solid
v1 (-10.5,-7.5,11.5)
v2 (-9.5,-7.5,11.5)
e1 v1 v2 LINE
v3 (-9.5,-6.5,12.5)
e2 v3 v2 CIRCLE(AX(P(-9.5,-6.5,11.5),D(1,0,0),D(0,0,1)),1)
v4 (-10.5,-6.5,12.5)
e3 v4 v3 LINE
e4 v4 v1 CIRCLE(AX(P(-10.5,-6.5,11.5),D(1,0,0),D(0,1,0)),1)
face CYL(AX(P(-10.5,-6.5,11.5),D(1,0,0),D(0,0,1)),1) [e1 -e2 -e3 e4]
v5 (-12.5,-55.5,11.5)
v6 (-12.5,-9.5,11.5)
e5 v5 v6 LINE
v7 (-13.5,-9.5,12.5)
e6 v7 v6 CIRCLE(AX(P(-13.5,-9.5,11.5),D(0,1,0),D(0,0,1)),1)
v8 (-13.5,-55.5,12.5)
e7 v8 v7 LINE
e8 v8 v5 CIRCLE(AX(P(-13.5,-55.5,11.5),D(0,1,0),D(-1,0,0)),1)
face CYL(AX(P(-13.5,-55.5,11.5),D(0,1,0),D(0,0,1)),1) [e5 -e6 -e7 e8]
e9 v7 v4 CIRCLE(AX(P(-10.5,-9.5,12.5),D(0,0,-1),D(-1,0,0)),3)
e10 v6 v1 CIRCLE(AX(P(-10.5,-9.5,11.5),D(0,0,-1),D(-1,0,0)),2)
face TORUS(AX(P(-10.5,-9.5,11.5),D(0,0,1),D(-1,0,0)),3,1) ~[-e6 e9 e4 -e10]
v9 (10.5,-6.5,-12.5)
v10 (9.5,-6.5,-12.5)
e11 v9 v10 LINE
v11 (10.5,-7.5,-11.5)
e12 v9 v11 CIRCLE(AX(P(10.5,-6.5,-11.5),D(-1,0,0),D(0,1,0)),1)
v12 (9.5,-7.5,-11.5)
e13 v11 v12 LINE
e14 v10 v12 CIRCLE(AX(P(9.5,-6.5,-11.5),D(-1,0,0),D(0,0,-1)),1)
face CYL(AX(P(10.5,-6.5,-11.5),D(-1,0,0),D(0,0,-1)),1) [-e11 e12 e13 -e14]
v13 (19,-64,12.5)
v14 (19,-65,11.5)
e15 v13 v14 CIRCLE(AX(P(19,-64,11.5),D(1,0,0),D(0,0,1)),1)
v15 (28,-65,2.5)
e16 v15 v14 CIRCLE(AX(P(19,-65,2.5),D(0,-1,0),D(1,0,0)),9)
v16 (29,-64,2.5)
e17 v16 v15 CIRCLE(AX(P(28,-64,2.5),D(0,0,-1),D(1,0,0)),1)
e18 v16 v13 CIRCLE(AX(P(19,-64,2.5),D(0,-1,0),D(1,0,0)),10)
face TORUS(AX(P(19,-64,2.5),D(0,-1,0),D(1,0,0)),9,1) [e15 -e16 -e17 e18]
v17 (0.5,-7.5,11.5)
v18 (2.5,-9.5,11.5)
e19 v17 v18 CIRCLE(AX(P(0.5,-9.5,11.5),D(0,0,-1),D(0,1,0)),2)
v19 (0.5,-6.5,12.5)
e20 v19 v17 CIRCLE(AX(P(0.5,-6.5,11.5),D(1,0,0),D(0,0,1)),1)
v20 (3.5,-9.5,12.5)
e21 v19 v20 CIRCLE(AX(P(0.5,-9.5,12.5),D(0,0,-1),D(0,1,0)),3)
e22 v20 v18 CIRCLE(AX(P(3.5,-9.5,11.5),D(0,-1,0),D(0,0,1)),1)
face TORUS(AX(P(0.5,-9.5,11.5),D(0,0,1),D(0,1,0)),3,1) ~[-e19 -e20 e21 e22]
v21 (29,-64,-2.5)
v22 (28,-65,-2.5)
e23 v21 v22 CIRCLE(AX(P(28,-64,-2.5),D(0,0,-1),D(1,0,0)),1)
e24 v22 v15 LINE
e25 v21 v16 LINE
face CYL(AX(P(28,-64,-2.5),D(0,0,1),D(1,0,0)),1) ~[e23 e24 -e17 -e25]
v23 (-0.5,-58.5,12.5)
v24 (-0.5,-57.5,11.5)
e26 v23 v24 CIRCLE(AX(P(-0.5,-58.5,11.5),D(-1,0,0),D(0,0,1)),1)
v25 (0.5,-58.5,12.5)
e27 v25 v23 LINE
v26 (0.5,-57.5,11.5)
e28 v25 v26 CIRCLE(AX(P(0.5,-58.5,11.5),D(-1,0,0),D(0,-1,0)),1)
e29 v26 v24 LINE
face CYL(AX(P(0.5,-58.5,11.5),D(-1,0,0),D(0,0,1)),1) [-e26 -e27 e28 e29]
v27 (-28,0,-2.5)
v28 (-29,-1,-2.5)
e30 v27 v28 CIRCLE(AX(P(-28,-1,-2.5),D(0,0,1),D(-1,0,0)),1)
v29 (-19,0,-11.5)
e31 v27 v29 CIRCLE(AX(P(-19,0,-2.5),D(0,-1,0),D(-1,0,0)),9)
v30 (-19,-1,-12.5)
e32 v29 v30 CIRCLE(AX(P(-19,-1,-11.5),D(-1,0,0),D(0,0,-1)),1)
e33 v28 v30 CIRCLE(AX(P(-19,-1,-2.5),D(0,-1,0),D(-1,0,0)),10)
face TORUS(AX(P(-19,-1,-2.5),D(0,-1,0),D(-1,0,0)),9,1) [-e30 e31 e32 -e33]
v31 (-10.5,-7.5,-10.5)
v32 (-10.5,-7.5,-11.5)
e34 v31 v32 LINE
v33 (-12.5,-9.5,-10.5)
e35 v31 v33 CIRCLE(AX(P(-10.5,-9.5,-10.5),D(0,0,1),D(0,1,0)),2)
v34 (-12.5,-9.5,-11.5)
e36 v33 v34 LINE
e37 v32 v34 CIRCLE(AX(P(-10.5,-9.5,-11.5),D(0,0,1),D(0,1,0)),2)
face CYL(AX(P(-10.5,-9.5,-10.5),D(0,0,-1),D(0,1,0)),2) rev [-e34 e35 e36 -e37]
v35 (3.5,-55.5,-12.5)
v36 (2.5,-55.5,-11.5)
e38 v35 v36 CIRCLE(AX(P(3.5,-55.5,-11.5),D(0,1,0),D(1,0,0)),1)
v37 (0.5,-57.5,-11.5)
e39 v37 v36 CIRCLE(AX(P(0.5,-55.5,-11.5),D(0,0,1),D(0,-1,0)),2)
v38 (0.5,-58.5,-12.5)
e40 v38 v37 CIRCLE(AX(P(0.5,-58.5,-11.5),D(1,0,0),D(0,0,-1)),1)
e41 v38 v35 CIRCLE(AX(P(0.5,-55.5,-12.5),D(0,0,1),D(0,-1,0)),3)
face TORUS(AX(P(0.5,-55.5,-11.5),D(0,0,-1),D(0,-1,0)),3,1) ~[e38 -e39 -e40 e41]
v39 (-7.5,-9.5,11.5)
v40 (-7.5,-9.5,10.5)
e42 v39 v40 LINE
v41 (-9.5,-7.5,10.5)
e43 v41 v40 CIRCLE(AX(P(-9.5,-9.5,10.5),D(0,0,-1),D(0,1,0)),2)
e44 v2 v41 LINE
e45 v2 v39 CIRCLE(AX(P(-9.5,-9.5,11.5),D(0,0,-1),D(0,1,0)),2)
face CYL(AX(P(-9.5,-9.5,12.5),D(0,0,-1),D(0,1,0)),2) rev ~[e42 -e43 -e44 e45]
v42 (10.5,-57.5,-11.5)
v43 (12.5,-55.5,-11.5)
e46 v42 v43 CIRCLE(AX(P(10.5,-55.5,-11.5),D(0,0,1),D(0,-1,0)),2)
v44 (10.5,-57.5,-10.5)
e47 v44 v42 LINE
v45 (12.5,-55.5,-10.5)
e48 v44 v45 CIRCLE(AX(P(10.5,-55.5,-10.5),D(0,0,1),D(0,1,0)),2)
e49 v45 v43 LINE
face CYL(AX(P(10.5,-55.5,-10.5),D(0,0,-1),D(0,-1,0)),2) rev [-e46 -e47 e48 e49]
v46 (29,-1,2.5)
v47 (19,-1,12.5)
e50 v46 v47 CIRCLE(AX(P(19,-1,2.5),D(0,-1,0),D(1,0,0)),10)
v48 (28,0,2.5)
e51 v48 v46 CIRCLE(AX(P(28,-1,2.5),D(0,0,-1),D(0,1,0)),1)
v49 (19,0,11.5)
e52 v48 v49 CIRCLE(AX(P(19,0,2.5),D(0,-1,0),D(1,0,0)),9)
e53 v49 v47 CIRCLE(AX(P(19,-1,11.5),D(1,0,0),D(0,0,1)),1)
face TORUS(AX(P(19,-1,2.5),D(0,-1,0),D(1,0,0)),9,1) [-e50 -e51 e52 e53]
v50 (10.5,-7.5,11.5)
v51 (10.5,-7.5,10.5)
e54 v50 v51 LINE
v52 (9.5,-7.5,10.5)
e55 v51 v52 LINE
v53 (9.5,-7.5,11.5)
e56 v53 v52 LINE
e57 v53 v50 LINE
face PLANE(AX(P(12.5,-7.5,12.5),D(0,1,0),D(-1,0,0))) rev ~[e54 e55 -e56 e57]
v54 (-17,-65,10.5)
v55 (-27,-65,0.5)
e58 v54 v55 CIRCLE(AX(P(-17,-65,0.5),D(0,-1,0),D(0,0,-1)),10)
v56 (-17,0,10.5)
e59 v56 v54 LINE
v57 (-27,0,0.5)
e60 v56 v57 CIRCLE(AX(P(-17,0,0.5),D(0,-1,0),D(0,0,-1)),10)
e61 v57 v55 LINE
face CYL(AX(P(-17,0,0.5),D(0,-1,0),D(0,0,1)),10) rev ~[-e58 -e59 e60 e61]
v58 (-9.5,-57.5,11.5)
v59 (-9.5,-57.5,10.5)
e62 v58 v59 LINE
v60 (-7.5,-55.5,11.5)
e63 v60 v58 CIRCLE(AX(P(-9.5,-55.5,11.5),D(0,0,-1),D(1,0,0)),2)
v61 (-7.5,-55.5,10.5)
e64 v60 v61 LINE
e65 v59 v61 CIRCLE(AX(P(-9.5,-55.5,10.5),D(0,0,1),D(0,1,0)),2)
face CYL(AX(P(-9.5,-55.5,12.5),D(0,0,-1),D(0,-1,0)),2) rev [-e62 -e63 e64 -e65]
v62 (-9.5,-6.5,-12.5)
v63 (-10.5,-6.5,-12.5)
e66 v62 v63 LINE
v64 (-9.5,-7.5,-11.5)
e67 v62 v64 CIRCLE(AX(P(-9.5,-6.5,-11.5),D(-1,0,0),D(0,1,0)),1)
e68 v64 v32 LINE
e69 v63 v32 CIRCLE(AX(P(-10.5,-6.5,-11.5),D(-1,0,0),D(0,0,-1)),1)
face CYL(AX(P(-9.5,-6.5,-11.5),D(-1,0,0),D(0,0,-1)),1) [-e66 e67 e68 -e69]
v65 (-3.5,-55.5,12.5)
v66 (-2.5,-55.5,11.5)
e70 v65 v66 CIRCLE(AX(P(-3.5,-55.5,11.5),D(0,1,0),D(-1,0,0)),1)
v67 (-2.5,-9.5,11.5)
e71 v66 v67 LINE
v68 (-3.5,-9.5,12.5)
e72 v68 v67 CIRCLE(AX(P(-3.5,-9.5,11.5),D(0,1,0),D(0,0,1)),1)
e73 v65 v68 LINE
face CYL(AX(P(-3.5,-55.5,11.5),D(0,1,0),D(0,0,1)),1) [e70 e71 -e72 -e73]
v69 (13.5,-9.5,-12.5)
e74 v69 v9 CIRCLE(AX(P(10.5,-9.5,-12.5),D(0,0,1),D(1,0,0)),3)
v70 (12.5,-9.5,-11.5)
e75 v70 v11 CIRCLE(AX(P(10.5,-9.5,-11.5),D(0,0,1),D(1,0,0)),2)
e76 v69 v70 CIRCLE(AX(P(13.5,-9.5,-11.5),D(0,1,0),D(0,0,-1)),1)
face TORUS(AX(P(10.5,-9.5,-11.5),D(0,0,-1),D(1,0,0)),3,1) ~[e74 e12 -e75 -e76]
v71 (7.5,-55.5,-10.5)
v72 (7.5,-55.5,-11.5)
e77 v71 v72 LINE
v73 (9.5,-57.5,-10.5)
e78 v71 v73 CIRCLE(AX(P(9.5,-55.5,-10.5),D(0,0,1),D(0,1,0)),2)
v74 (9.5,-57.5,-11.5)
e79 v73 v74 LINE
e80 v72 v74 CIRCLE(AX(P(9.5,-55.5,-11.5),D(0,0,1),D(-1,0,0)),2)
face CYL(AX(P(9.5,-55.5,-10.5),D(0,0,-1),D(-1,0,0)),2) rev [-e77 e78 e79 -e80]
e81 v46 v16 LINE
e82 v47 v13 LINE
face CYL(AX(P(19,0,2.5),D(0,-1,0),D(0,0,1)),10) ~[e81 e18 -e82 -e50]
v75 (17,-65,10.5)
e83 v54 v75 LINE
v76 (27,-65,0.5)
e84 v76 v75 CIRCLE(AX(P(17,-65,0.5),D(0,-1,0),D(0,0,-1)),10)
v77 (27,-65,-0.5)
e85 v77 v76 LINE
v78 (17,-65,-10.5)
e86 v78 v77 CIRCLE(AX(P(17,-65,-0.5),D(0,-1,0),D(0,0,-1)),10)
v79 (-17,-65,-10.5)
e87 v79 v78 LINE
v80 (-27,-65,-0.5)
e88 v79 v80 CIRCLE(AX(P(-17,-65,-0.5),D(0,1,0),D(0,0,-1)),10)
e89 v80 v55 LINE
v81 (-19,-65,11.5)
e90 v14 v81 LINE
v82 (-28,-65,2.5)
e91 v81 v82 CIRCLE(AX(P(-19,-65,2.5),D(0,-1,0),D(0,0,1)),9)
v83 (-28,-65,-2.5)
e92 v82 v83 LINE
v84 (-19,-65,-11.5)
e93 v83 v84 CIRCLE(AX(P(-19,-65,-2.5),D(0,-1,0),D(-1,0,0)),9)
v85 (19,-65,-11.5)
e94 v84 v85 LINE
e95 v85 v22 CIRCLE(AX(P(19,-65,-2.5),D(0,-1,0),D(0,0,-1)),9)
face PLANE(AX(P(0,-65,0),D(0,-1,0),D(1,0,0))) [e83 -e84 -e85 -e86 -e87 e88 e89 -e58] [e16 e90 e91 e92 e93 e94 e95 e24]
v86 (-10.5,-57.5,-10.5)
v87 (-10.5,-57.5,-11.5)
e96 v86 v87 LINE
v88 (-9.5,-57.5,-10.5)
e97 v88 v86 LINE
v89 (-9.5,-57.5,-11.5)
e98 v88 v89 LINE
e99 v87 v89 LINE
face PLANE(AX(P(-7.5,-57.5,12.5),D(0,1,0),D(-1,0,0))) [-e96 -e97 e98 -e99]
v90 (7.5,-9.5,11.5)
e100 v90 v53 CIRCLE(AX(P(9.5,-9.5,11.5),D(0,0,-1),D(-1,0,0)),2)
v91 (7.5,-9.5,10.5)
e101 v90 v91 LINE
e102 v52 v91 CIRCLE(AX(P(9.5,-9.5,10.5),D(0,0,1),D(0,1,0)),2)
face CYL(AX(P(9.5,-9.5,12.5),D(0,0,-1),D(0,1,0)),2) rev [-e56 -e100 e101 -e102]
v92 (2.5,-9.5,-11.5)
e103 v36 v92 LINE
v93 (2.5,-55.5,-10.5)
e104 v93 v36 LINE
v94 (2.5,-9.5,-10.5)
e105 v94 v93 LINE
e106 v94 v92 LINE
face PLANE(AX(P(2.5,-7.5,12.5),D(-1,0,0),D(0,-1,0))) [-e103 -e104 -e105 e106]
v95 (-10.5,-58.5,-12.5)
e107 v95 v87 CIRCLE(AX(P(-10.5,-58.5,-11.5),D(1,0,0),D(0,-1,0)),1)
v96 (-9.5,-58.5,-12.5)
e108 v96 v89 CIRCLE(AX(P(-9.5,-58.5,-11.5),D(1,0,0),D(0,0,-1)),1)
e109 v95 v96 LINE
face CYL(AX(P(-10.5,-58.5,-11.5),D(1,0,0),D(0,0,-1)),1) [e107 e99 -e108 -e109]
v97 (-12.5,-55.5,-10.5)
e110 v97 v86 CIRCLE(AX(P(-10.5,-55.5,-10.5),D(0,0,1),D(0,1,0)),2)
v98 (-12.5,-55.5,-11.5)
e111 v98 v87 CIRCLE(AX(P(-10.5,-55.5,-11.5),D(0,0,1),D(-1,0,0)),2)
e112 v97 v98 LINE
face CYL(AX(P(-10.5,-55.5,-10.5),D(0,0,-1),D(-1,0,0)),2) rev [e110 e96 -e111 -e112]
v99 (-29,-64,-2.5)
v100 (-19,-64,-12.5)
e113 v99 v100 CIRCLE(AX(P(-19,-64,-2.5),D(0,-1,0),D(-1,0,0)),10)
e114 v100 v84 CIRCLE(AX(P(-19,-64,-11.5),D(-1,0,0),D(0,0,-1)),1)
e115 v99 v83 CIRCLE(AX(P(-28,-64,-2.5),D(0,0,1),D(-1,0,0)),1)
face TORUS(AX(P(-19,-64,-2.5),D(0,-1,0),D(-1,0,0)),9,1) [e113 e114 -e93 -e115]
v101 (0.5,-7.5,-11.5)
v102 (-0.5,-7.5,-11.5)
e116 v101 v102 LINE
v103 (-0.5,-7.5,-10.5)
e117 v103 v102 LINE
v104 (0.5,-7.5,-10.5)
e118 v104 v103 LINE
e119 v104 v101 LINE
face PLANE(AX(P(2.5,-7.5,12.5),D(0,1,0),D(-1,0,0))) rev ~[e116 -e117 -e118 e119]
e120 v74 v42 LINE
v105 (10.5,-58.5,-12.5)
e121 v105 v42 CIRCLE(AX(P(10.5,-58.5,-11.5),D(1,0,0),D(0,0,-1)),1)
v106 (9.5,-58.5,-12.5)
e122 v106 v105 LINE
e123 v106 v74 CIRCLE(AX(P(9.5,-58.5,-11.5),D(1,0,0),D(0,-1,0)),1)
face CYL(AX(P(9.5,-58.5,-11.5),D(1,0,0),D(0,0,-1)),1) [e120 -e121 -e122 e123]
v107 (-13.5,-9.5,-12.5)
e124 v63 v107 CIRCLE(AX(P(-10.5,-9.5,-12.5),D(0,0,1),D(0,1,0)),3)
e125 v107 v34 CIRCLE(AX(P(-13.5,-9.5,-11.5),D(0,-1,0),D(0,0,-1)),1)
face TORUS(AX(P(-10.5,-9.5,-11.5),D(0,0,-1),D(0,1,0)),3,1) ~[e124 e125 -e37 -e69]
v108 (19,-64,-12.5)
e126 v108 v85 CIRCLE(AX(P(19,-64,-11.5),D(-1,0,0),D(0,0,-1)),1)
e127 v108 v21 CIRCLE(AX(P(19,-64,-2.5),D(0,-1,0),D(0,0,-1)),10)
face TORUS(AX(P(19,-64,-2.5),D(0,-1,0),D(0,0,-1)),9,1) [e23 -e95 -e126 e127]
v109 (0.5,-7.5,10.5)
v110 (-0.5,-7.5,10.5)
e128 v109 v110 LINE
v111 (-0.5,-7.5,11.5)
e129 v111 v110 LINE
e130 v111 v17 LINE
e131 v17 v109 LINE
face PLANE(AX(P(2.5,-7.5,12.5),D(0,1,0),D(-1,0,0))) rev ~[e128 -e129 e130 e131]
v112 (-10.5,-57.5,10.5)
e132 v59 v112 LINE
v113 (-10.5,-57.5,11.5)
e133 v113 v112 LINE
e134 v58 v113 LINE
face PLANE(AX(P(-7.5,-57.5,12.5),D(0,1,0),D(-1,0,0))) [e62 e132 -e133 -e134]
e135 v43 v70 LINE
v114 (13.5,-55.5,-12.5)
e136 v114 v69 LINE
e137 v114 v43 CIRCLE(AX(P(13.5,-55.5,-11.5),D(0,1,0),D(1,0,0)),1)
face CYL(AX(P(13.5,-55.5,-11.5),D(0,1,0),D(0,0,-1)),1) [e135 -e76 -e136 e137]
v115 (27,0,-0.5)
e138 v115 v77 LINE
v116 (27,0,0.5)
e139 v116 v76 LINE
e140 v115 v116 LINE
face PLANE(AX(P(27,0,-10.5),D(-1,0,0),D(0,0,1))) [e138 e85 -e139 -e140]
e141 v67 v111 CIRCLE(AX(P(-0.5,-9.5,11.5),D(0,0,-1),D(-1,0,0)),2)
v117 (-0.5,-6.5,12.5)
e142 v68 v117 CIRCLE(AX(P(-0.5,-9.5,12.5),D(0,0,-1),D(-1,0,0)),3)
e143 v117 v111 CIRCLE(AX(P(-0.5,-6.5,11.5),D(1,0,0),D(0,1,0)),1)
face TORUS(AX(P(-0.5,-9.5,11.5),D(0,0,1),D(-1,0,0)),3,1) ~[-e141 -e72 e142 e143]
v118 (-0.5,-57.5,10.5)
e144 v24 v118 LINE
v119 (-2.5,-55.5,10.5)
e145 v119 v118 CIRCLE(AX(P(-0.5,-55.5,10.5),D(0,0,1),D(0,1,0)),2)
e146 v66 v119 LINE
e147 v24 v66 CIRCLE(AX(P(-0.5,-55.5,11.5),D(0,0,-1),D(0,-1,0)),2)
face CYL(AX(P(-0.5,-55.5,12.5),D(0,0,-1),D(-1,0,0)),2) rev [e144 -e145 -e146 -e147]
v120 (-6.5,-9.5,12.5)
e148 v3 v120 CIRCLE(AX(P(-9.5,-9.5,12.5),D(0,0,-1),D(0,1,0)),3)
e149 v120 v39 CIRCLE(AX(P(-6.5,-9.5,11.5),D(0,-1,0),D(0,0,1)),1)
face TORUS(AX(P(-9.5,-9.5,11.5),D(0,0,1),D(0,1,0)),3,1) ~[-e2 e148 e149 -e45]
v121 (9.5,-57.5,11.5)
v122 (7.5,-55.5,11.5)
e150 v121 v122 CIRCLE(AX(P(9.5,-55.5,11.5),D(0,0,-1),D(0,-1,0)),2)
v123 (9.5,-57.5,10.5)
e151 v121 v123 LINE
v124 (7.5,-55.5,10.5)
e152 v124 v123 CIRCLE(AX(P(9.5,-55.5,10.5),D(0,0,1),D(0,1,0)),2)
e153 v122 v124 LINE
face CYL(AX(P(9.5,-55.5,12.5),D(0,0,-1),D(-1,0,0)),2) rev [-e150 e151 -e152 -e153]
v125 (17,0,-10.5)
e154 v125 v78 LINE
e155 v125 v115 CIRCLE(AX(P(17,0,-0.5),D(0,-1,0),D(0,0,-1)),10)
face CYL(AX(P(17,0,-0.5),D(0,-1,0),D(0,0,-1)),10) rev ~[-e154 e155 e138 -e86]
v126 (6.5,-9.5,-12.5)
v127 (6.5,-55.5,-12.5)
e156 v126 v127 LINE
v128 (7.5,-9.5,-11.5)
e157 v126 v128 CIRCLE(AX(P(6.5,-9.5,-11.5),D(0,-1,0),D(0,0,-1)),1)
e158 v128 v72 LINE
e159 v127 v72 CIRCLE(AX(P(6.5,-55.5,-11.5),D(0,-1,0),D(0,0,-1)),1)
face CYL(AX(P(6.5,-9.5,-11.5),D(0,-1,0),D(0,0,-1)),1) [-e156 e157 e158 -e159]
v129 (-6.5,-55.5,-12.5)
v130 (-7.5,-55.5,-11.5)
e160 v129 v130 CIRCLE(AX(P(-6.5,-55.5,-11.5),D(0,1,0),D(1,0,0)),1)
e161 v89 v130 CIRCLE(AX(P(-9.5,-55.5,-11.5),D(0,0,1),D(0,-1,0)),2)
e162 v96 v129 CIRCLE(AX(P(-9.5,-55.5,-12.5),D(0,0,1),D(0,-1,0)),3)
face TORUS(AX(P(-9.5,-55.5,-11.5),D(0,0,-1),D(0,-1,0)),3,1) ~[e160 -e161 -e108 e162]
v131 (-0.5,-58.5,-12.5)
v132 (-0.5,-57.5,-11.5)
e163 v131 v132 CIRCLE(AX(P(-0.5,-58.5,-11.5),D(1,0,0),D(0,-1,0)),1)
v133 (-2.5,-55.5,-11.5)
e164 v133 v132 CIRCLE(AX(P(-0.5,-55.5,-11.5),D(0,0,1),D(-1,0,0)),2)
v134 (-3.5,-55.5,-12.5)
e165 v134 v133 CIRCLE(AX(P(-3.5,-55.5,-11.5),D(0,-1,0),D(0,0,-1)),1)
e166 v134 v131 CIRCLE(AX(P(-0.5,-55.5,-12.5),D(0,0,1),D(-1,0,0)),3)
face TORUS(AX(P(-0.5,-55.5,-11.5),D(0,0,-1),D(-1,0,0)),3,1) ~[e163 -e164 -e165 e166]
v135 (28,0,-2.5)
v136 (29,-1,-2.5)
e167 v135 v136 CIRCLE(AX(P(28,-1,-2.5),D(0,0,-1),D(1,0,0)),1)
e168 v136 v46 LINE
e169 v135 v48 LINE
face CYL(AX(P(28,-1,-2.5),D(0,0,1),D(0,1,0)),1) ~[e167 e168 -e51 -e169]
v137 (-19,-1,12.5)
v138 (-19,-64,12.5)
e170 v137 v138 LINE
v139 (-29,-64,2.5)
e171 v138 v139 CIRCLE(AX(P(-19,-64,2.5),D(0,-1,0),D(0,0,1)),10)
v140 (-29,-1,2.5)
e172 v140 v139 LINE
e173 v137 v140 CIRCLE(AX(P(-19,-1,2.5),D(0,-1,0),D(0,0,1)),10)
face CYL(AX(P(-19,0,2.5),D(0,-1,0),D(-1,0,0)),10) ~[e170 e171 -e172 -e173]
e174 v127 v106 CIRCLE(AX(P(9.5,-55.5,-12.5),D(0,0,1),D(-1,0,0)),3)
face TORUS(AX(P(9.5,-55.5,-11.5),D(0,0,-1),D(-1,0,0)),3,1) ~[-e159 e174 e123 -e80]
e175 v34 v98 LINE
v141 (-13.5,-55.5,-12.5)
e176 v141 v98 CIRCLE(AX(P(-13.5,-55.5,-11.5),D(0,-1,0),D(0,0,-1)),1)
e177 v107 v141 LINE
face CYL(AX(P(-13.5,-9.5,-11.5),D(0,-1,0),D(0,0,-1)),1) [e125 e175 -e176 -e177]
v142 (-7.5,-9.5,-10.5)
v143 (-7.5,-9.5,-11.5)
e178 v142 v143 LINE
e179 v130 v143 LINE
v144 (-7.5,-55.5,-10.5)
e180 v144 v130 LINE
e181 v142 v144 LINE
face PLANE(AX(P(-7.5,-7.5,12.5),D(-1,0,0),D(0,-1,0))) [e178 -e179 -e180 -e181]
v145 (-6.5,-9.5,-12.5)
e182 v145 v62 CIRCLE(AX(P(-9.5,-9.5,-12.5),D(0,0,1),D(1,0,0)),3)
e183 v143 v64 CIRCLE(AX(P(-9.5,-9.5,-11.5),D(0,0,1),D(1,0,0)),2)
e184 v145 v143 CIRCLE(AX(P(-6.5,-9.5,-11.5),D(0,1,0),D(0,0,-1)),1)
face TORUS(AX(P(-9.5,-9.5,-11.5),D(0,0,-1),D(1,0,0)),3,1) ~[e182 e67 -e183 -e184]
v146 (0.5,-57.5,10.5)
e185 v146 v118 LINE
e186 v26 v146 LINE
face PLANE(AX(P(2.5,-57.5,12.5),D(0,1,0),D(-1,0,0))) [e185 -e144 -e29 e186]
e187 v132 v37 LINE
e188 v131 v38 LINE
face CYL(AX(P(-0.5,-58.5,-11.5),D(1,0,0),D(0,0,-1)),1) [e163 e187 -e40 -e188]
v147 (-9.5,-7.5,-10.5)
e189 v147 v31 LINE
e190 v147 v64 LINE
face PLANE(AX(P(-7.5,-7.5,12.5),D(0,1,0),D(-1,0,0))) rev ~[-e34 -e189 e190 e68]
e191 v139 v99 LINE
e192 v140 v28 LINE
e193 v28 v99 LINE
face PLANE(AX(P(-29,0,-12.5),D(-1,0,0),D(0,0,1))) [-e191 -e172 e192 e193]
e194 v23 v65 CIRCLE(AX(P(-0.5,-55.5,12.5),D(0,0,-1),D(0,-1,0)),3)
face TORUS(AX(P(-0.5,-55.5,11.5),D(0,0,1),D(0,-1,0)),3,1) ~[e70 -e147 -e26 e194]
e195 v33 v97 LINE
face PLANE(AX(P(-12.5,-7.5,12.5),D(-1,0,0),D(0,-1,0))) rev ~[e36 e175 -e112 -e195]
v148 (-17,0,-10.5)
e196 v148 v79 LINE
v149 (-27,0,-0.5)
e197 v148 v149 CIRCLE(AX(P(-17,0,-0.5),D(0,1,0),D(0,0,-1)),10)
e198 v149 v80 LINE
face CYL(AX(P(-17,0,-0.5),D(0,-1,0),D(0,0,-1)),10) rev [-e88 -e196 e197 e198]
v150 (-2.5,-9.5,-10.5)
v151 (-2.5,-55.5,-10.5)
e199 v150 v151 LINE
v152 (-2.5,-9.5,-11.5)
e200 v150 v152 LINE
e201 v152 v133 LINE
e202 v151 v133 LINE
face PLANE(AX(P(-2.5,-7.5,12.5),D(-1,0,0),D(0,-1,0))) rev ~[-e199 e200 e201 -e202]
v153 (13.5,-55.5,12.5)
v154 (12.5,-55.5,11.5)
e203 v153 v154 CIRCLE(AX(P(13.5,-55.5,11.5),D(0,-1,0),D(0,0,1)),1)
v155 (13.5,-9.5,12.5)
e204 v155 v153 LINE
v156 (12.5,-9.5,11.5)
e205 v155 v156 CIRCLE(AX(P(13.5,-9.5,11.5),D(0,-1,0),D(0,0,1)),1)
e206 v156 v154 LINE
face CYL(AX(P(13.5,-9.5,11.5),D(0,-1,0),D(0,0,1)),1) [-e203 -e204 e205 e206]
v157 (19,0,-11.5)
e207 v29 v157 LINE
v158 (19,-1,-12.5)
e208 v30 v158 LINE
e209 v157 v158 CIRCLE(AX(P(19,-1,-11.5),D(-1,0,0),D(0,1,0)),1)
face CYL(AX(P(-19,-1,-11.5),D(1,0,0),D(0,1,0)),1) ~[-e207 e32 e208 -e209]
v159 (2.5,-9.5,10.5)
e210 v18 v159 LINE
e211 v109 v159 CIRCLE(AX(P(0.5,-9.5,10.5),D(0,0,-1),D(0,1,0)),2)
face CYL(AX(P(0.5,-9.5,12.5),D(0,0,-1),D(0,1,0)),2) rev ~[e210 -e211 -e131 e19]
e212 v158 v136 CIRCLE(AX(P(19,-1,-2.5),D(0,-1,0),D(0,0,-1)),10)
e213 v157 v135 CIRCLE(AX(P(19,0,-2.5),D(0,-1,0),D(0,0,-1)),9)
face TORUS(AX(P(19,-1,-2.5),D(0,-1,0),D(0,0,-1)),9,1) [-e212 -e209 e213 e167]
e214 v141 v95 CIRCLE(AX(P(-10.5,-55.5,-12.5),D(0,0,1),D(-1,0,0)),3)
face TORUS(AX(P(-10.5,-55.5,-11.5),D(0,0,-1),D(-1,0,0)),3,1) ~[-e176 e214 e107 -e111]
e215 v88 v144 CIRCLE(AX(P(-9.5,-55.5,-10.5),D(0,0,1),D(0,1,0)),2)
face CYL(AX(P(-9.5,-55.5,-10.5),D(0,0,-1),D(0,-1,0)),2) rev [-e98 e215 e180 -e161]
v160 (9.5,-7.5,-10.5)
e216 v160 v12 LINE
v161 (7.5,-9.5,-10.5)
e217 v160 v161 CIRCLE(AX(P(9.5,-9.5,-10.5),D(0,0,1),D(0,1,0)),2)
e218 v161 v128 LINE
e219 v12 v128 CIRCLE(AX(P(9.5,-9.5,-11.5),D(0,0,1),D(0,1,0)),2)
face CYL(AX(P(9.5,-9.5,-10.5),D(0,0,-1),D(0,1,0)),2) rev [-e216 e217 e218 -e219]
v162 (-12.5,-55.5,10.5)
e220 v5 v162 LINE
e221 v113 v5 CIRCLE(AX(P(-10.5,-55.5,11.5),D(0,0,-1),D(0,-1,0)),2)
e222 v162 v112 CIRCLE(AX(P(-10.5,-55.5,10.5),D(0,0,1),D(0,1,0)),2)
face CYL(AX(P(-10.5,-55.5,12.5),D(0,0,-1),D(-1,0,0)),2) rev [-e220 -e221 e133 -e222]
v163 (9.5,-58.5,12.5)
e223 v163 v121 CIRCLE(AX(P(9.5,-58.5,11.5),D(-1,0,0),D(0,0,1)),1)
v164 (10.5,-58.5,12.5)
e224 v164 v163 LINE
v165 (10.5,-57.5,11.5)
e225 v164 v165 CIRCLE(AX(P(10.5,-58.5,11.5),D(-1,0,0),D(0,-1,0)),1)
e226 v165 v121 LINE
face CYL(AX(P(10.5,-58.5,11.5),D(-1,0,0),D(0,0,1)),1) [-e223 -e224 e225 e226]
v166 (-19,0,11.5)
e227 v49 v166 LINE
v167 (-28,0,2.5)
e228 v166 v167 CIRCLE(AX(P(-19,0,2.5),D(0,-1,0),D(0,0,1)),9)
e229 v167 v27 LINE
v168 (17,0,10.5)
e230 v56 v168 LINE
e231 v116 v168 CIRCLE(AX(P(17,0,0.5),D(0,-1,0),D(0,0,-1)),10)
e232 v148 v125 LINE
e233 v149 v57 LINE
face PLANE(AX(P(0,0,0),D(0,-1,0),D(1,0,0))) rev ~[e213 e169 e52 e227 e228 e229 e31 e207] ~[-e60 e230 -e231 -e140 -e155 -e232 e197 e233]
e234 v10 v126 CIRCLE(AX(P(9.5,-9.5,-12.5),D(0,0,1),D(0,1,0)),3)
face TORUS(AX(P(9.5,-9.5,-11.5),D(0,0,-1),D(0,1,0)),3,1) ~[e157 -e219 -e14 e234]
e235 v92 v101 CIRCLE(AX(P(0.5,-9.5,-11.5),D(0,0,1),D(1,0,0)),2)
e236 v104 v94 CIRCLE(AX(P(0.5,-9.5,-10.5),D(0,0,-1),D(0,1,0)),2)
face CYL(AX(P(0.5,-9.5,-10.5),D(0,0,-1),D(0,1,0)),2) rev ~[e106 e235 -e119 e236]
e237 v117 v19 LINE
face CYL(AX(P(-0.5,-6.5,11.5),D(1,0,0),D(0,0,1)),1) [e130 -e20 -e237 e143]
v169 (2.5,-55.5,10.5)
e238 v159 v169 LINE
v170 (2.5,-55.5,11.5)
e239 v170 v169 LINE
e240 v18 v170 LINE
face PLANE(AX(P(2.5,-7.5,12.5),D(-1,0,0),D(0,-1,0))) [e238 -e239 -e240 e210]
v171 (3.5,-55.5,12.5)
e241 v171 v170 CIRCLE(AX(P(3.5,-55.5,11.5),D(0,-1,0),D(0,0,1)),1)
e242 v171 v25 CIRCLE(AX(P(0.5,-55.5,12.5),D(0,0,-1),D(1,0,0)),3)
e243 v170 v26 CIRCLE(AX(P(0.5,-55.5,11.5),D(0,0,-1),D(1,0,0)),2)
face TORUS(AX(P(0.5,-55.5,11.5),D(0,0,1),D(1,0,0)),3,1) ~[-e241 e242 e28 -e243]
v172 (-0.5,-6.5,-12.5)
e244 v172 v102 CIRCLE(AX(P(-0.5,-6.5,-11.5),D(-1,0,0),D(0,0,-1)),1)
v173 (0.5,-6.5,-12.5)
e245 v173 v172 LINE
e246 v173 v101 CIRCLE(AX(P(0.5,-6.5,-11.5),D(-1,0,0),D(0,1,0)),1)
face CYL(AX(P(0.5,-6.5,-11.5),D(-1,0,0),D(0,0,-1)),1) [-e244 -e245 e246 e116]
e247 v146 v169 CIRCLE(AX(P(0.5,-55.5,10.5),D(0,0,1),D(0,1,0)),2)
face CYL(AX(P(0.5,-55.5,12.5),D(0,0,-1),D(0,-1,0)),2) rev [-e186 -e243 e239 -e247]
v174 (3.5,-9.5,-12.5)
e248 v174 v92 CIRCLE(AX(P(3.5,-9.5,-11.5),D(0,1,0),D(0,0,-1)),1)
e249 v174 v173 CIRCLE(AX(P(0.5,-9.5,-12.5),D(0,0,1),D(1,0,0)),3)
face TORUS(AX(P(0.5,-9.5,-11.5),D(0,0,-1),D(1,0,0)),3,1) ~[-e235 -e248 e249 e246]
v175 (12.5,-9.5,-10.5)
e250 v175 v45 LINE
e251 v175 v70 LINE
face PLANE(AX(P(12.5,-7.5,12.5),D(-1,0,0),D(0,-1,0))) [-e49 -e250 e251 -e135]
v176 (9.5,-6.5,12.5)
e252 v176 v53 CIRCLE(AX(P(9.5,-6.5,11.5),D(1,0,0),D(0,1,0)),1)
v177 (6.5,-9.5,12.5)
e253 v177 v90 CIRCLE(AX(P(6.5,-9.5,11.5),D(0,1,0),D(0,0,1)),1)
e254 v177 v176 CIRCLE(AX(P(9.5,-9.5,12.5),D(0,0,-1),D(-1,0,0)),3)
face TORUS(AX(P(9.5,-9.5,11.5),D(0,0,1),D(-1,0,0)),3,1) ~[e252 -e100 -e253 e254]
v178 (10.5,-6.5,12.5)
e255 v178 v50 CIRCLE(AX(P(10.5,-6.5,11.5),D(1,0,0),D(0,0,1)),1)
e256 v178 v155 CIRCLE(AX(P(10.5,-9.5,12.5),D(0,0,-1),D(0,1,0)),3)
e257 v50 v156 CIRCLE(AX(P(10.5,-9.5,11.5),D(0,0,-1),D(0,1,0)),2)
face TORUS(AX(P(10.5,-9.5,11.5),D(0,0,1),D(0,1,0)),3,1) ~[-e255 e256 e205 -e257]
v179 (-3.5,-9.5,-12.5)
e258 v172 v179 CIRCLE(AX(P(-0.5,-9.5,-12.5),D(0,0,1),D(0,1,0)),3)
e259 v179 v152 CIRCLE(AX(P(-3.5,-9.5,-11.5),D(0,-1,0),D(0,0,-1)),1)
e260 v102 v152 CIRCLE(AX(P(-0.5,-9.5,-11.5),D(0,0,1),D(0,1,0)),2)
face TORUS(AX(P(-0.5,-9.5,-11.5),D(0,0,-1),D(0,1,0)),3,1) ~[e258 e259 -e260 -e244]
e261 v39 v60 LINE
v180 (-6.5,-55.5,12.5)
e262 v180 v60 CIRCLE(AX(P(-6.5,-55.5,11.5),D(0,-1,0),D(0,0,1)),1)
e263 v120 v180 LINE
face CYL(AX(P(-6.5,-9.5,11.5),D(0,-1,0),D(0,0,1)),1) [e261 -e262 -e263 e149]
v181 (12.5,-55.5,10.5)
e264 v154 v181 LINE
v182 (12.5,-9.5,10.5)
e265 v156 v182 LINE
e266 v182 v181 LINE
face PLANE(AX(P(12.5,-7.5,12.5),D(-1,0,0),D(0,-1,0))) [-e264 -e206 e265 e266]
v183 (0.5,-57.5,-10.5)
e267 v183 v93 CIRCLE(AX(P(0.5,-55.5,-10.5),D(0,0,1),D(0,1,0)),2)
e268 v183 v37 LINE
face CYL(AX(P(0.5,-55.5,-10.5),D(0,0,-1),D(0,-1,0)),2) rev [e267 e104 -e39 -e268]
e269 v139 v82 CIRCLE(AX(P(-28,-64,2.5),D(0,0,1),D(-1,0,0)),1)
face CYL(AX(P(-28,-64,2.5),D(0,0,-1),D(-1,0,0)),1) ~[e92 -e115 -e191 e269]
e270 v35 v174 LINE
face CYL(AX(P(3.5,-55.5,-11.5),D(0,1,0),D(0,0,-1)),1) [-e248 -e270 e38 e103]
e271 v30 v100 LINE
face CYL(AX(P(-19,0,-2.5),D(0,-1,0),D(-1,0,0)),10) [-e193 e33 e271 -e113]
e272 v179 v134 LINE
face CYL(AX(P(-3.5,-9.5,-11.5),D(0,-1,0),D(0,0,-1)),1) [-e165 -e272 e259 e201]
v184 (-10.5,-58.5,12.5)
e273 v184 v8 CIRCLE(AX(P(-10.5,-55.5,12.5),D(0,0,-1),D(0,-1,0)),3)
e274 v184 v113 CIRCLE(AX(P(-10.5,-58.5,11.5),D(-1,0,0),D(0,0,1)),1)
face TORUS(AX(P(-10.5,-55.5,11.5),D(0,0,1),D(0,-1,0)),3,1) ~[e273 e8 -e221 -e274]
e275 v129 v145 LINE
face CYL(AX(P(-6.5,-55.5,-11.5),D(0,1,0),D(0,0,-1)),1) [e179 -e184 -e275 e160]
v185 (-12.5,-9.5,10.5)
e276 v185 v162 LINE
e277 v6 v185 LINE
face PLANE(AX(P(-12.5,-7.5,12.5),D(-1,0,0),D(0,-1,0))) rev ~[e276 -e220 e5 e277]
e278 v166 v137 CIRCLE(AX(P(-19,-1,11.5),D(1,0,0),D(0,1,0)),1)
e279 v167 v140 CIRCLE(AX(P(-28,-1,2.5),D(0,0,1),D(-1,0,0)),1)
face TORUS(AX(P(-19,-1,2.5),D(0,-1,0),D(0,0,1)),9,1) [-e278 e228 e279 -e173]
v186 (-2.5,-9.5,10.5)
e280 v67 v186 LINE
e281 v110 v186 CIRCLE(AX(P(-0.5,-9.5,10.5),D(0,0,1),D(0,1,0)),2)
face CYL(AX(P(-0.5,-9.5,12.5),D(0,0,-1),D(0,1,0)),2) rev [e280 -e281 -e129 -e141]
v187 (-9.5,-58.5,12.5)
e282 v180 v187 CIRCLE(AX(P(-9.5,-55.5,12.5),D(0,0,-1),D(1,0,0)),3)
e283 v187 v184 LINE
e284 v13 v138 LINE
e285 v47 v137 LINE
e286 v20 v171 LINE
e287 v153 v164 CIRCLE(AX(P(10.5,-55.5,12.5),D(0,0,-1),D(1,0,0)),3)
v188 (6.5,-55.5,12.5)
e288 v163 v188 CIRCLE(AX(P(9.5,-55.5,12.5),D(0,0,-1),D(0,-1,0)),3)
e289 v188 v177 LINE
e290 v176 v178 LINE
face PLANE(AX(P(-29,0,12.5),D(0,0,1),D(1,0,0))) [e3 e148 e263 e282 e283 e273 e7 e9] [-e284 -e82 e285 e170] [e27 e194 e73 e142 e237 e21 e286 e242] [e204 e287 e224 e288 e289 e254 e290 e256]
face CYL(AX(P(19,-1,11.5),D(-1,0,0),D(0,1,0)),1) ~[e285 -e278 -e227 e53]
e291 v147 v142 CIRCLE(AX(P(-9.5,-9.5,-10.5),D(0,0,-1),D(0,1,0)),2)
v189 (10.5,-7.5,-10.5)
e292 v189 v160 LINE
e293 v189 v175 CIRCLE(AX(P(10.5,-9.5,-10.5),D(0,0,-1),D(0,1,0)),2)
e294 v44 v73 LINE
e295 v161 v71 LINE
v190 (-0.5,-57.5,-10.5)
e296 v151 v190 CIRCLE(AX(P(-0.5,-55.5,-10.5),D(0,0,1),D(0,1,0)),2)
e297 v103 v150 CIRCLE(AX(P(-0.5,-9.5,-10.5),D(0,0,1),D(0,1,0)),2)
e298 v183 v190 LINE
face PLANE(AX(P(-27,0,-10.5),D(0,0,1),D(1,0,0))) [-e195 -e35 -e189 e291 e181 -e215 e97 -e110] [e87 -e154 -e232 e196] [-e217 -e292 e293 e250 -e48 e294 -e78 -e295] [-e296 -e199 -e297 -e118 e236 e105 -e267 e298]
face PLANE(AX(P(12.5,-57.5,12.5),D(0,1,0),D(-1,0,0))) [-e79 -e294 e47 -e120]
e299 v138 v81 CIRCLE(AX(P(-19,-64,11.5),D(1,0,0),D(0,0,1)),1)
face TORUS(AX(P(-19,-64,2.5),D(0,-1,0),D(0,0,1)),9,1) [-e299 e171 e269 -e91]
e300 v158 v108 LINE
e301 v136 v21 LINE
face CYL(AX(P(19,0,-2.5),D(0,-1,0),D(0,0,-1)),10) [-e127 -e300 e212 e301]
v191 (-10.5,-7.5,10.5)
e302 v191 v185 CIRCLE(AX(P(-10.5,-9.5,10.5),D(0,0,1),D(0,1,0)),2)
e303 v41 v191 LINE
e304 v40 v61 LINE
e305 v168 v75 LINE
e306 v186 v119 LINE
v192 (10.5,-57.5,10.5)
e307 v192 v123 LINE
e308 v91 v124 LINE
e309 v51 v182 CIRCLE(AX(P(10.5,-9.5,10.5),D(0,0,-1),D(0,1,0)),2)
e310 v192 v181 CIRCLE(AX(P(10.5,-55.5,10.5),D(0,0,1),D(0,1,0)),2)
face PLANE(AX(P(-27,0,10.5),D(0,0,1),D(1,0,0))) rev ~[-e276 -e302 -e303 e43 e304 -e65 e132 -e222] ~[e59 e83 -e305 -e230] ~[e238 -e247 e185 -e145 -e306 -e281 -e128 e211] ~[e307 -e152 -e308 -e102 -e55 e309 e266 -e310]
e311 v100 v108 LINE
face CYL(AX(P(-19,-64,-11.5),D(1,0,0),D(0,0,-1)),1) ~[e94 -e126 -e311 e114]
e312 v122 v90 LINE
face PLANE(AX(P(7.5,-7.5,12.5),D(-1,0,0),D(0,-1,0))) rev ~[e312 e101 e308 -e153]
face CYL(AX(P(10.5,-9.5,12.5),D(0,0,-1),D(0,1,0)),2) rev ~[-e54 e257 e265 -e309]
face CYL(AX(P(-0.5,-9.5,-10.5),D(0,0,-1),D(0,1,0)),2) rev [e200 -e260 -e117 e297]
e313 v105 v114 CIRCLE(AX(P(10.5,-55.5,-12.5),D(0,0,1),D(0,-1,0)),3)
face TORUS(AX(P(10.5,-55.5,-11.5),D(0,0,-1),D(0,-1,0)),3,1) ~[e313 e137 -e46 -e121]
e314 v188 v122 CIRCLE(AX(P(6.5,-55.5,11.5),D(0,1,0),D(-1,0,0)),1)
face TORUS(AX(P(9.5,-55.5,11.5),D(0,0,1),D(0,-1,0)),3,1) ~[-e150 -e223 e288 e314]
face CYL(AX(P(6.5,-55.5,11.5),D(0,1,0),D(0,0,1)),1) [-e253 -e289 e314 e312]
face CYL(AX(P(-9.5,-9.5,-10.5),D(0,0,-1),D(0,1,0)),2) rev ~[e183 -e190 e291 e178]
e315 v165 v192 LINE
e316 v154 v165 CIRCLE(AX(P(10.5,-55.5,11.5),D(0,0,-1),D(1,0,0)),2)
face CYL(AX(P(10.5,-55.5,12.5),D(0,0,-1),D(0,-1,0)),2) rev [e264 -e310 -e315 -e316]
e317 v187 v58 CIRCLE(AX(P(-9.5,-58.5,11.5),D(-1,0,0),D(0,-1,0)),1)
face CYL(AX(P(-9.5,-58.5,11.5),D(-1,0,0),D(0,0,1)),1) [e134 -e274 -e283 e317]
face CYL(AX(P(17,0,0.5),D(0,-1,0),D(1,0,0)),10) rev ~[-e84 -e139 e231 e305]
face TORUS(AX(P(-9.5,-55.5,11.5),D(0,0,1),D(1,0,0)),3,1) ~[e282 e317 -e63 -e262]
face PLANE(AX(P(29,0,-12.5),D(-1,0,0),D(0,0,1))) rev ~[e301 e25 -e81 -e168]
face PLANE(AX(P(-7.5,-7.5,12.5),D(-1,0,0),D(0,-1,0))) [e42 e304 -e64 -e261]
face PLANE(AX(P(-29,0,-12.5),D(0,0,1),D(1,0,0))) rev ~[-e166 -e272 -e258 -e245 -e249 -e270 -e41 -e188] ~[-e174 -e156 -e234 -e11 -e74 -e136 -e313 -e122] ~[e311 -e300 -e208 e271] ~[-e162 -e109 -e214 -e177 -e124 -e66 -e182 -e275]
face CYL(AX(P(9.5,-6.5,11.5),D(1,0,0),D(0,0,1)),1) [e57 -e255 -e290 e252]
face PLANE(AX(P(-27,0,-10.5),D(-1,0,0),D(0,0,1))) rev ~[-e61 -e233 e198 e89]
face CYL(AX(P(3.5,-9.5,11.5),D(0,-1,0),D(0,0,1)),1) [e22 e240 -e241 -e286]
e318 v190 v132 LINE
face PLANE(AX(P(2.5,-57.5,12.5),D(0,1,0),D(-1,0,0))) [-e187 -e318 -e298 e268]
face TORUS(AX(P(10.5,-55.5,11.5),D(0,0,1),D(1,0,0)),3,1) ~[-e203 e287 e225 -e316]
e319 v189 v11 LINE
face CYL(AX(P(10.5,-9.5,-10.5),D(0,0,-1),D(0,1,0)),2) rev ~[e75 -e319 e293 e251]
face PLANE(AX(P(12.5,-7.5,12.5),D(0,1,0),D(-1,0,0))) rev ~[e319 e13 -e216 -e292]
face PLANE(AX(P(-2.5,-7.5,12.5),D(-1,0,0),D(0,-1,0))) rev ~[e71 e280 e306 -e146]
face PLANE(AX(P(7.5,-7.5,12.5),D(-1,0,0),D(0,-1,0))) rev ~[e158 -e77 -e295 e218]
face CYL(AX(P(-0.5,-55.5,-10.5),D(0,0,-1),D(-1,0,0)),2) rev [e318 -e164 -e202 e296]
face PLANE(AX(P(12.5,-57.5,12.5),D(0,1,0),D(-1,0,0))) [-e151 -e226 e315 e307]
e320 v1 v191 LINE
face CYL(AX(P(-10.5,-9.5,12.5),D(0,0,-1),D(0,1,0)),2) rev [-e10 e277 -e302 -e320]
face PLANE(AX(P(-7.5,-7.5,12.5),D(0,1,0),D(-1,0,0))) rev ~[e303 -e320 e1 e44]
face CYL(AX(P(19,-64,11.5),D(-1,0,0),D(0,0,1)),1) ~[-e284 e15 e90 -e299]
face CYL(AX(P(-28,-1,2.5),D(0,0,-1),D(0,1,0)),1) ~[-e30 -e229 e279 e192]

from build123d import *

# Parameters (mm, degrees)
SKETCH_W     = 58
SKETCH_H     = 25
SKETCH_W_2   = 54
SKETCH_H_2   = 21
PAD_DEPTH    = 65
FILLET_R     = 10
SKETCH001_W  = 5
SKETCH001_H  = 50
POCKET_DEPTH = 25.001
FILLET001_R  = 2
FILLET002_R  = 1
FILLET003_R  = 1


with BuildPart() as part:
    # Sketch → Pad (new body)
    with BuildSketch(Plane.XZ):
        Rectangle(SKETCH_W, SKETCH_H)
        Rectangle(SKETCH_W_2, SKETCH_H_2, mode=Mode.SUBTRACT)
    extrude(amount=PAD_DEPTH)

    # Fillet
    fillet_edges = [part.edges().sort_by_distance(p)[0] for p in [
        (-29, -32.5, 12.5),
        (27, -32.5, -10.5),
        (27, -32.5, 10.5),
        (-29, -32.5, -12.5),
        (29, -32.5, -12.5),
        (-27, -32.5, -10.5),
        (29, -32.5, 12.5),
        (-27, -32.5, 10.5),
    ]]
    fillet(fillet_edges, radius=FILLET_R)

    # Sketch001 (on Face7 of Fillet) → Pocket (cut, through all)
    with BuildSketch(Plane(origin=(0, 0, 12.5), x_dir=(-1, 0, 0), z_dir=(0, 0, 1))):
        with Locations((0, 32.5)):
            Rectangle(SKETCH001_W, SKETCH001_H)
        with Locations((-10, 32.5)):
            Rectangle(SKETCH001_W, SKETCH001_H)
        with Locations((10, 32.5)):
            Rectangle(SKETCH001_W, SKETCH001_H)
    extrude(amount=-POCKET_DEPTH, mode=Mode.SUBTRACT)

    # Fillet001
    fillet001_edges = [part.edges().sort_by_distance(p)[0] for p in [
        (-12.5, -57.5, 11.5),
        (-2.5, -57.5, 11.5),
        (7.5, -57.5, 11.5),
        (12.5, -57.5, 11.5),
        (2.5, -57.5, 11.5),
        (-7.5, -57.5, 11.5),
        (12.5, -7.5, 11.5),
        (2.5, -7.5, 11.5),
        (-7.5, -7.5, 11.5),
        (-12.5, -7.5, 11.5),
        (-2.5, -7.5, 11.5),
        (7.5, -7.5, 11.5),
        (-2.5, -7.5, -11.5),
        (-12.5, -7.5, -11.5),
        (-7.5, -7.5, -11.5),
        (2.5, -7.5, -11.5),
        (12.5, -7.5, -11.5),
        (7.5, -7.5, -11.5),
        (-12.5, -57.5, -11.5),
        (-2.5, -57.5, -11.5),
        (7.5, -57.5, -11.5),
        (12.5, -57.5, -11.5),
        (2.5, -57.5, -11.5),
        (-7.5, -57.5, -11.5),
    ]]
    fillet(fillet001_edges, radius=FILLET001_R)

    # Fillet002
    fillet002_edges = [part.edges().sort_by_distance(p)[0] for p in [
        (-26.071068, 0, -9.571068),
        (-26.071068, -65, -9.571068),
    ]]
    fillet(fillet002_edges, radius=FILLET002_R)

    # Fillet003
    fillet003_edges = [part.edges().sort_by_distance(p)[0] for p in [
        (-12.5, -32.5, -12.5),
        (-2.5, -32.5, -12.5),
        (7.5, -32.5, -12.5),
        (12.5, -32.5, 12.5),
        (2.5, -32.5, 12.5),
        (-7.5, -32.5, 12.5),
    ]]
    fillet(fillet003_edges, radius=FILLET003_R)


solid = part.part
